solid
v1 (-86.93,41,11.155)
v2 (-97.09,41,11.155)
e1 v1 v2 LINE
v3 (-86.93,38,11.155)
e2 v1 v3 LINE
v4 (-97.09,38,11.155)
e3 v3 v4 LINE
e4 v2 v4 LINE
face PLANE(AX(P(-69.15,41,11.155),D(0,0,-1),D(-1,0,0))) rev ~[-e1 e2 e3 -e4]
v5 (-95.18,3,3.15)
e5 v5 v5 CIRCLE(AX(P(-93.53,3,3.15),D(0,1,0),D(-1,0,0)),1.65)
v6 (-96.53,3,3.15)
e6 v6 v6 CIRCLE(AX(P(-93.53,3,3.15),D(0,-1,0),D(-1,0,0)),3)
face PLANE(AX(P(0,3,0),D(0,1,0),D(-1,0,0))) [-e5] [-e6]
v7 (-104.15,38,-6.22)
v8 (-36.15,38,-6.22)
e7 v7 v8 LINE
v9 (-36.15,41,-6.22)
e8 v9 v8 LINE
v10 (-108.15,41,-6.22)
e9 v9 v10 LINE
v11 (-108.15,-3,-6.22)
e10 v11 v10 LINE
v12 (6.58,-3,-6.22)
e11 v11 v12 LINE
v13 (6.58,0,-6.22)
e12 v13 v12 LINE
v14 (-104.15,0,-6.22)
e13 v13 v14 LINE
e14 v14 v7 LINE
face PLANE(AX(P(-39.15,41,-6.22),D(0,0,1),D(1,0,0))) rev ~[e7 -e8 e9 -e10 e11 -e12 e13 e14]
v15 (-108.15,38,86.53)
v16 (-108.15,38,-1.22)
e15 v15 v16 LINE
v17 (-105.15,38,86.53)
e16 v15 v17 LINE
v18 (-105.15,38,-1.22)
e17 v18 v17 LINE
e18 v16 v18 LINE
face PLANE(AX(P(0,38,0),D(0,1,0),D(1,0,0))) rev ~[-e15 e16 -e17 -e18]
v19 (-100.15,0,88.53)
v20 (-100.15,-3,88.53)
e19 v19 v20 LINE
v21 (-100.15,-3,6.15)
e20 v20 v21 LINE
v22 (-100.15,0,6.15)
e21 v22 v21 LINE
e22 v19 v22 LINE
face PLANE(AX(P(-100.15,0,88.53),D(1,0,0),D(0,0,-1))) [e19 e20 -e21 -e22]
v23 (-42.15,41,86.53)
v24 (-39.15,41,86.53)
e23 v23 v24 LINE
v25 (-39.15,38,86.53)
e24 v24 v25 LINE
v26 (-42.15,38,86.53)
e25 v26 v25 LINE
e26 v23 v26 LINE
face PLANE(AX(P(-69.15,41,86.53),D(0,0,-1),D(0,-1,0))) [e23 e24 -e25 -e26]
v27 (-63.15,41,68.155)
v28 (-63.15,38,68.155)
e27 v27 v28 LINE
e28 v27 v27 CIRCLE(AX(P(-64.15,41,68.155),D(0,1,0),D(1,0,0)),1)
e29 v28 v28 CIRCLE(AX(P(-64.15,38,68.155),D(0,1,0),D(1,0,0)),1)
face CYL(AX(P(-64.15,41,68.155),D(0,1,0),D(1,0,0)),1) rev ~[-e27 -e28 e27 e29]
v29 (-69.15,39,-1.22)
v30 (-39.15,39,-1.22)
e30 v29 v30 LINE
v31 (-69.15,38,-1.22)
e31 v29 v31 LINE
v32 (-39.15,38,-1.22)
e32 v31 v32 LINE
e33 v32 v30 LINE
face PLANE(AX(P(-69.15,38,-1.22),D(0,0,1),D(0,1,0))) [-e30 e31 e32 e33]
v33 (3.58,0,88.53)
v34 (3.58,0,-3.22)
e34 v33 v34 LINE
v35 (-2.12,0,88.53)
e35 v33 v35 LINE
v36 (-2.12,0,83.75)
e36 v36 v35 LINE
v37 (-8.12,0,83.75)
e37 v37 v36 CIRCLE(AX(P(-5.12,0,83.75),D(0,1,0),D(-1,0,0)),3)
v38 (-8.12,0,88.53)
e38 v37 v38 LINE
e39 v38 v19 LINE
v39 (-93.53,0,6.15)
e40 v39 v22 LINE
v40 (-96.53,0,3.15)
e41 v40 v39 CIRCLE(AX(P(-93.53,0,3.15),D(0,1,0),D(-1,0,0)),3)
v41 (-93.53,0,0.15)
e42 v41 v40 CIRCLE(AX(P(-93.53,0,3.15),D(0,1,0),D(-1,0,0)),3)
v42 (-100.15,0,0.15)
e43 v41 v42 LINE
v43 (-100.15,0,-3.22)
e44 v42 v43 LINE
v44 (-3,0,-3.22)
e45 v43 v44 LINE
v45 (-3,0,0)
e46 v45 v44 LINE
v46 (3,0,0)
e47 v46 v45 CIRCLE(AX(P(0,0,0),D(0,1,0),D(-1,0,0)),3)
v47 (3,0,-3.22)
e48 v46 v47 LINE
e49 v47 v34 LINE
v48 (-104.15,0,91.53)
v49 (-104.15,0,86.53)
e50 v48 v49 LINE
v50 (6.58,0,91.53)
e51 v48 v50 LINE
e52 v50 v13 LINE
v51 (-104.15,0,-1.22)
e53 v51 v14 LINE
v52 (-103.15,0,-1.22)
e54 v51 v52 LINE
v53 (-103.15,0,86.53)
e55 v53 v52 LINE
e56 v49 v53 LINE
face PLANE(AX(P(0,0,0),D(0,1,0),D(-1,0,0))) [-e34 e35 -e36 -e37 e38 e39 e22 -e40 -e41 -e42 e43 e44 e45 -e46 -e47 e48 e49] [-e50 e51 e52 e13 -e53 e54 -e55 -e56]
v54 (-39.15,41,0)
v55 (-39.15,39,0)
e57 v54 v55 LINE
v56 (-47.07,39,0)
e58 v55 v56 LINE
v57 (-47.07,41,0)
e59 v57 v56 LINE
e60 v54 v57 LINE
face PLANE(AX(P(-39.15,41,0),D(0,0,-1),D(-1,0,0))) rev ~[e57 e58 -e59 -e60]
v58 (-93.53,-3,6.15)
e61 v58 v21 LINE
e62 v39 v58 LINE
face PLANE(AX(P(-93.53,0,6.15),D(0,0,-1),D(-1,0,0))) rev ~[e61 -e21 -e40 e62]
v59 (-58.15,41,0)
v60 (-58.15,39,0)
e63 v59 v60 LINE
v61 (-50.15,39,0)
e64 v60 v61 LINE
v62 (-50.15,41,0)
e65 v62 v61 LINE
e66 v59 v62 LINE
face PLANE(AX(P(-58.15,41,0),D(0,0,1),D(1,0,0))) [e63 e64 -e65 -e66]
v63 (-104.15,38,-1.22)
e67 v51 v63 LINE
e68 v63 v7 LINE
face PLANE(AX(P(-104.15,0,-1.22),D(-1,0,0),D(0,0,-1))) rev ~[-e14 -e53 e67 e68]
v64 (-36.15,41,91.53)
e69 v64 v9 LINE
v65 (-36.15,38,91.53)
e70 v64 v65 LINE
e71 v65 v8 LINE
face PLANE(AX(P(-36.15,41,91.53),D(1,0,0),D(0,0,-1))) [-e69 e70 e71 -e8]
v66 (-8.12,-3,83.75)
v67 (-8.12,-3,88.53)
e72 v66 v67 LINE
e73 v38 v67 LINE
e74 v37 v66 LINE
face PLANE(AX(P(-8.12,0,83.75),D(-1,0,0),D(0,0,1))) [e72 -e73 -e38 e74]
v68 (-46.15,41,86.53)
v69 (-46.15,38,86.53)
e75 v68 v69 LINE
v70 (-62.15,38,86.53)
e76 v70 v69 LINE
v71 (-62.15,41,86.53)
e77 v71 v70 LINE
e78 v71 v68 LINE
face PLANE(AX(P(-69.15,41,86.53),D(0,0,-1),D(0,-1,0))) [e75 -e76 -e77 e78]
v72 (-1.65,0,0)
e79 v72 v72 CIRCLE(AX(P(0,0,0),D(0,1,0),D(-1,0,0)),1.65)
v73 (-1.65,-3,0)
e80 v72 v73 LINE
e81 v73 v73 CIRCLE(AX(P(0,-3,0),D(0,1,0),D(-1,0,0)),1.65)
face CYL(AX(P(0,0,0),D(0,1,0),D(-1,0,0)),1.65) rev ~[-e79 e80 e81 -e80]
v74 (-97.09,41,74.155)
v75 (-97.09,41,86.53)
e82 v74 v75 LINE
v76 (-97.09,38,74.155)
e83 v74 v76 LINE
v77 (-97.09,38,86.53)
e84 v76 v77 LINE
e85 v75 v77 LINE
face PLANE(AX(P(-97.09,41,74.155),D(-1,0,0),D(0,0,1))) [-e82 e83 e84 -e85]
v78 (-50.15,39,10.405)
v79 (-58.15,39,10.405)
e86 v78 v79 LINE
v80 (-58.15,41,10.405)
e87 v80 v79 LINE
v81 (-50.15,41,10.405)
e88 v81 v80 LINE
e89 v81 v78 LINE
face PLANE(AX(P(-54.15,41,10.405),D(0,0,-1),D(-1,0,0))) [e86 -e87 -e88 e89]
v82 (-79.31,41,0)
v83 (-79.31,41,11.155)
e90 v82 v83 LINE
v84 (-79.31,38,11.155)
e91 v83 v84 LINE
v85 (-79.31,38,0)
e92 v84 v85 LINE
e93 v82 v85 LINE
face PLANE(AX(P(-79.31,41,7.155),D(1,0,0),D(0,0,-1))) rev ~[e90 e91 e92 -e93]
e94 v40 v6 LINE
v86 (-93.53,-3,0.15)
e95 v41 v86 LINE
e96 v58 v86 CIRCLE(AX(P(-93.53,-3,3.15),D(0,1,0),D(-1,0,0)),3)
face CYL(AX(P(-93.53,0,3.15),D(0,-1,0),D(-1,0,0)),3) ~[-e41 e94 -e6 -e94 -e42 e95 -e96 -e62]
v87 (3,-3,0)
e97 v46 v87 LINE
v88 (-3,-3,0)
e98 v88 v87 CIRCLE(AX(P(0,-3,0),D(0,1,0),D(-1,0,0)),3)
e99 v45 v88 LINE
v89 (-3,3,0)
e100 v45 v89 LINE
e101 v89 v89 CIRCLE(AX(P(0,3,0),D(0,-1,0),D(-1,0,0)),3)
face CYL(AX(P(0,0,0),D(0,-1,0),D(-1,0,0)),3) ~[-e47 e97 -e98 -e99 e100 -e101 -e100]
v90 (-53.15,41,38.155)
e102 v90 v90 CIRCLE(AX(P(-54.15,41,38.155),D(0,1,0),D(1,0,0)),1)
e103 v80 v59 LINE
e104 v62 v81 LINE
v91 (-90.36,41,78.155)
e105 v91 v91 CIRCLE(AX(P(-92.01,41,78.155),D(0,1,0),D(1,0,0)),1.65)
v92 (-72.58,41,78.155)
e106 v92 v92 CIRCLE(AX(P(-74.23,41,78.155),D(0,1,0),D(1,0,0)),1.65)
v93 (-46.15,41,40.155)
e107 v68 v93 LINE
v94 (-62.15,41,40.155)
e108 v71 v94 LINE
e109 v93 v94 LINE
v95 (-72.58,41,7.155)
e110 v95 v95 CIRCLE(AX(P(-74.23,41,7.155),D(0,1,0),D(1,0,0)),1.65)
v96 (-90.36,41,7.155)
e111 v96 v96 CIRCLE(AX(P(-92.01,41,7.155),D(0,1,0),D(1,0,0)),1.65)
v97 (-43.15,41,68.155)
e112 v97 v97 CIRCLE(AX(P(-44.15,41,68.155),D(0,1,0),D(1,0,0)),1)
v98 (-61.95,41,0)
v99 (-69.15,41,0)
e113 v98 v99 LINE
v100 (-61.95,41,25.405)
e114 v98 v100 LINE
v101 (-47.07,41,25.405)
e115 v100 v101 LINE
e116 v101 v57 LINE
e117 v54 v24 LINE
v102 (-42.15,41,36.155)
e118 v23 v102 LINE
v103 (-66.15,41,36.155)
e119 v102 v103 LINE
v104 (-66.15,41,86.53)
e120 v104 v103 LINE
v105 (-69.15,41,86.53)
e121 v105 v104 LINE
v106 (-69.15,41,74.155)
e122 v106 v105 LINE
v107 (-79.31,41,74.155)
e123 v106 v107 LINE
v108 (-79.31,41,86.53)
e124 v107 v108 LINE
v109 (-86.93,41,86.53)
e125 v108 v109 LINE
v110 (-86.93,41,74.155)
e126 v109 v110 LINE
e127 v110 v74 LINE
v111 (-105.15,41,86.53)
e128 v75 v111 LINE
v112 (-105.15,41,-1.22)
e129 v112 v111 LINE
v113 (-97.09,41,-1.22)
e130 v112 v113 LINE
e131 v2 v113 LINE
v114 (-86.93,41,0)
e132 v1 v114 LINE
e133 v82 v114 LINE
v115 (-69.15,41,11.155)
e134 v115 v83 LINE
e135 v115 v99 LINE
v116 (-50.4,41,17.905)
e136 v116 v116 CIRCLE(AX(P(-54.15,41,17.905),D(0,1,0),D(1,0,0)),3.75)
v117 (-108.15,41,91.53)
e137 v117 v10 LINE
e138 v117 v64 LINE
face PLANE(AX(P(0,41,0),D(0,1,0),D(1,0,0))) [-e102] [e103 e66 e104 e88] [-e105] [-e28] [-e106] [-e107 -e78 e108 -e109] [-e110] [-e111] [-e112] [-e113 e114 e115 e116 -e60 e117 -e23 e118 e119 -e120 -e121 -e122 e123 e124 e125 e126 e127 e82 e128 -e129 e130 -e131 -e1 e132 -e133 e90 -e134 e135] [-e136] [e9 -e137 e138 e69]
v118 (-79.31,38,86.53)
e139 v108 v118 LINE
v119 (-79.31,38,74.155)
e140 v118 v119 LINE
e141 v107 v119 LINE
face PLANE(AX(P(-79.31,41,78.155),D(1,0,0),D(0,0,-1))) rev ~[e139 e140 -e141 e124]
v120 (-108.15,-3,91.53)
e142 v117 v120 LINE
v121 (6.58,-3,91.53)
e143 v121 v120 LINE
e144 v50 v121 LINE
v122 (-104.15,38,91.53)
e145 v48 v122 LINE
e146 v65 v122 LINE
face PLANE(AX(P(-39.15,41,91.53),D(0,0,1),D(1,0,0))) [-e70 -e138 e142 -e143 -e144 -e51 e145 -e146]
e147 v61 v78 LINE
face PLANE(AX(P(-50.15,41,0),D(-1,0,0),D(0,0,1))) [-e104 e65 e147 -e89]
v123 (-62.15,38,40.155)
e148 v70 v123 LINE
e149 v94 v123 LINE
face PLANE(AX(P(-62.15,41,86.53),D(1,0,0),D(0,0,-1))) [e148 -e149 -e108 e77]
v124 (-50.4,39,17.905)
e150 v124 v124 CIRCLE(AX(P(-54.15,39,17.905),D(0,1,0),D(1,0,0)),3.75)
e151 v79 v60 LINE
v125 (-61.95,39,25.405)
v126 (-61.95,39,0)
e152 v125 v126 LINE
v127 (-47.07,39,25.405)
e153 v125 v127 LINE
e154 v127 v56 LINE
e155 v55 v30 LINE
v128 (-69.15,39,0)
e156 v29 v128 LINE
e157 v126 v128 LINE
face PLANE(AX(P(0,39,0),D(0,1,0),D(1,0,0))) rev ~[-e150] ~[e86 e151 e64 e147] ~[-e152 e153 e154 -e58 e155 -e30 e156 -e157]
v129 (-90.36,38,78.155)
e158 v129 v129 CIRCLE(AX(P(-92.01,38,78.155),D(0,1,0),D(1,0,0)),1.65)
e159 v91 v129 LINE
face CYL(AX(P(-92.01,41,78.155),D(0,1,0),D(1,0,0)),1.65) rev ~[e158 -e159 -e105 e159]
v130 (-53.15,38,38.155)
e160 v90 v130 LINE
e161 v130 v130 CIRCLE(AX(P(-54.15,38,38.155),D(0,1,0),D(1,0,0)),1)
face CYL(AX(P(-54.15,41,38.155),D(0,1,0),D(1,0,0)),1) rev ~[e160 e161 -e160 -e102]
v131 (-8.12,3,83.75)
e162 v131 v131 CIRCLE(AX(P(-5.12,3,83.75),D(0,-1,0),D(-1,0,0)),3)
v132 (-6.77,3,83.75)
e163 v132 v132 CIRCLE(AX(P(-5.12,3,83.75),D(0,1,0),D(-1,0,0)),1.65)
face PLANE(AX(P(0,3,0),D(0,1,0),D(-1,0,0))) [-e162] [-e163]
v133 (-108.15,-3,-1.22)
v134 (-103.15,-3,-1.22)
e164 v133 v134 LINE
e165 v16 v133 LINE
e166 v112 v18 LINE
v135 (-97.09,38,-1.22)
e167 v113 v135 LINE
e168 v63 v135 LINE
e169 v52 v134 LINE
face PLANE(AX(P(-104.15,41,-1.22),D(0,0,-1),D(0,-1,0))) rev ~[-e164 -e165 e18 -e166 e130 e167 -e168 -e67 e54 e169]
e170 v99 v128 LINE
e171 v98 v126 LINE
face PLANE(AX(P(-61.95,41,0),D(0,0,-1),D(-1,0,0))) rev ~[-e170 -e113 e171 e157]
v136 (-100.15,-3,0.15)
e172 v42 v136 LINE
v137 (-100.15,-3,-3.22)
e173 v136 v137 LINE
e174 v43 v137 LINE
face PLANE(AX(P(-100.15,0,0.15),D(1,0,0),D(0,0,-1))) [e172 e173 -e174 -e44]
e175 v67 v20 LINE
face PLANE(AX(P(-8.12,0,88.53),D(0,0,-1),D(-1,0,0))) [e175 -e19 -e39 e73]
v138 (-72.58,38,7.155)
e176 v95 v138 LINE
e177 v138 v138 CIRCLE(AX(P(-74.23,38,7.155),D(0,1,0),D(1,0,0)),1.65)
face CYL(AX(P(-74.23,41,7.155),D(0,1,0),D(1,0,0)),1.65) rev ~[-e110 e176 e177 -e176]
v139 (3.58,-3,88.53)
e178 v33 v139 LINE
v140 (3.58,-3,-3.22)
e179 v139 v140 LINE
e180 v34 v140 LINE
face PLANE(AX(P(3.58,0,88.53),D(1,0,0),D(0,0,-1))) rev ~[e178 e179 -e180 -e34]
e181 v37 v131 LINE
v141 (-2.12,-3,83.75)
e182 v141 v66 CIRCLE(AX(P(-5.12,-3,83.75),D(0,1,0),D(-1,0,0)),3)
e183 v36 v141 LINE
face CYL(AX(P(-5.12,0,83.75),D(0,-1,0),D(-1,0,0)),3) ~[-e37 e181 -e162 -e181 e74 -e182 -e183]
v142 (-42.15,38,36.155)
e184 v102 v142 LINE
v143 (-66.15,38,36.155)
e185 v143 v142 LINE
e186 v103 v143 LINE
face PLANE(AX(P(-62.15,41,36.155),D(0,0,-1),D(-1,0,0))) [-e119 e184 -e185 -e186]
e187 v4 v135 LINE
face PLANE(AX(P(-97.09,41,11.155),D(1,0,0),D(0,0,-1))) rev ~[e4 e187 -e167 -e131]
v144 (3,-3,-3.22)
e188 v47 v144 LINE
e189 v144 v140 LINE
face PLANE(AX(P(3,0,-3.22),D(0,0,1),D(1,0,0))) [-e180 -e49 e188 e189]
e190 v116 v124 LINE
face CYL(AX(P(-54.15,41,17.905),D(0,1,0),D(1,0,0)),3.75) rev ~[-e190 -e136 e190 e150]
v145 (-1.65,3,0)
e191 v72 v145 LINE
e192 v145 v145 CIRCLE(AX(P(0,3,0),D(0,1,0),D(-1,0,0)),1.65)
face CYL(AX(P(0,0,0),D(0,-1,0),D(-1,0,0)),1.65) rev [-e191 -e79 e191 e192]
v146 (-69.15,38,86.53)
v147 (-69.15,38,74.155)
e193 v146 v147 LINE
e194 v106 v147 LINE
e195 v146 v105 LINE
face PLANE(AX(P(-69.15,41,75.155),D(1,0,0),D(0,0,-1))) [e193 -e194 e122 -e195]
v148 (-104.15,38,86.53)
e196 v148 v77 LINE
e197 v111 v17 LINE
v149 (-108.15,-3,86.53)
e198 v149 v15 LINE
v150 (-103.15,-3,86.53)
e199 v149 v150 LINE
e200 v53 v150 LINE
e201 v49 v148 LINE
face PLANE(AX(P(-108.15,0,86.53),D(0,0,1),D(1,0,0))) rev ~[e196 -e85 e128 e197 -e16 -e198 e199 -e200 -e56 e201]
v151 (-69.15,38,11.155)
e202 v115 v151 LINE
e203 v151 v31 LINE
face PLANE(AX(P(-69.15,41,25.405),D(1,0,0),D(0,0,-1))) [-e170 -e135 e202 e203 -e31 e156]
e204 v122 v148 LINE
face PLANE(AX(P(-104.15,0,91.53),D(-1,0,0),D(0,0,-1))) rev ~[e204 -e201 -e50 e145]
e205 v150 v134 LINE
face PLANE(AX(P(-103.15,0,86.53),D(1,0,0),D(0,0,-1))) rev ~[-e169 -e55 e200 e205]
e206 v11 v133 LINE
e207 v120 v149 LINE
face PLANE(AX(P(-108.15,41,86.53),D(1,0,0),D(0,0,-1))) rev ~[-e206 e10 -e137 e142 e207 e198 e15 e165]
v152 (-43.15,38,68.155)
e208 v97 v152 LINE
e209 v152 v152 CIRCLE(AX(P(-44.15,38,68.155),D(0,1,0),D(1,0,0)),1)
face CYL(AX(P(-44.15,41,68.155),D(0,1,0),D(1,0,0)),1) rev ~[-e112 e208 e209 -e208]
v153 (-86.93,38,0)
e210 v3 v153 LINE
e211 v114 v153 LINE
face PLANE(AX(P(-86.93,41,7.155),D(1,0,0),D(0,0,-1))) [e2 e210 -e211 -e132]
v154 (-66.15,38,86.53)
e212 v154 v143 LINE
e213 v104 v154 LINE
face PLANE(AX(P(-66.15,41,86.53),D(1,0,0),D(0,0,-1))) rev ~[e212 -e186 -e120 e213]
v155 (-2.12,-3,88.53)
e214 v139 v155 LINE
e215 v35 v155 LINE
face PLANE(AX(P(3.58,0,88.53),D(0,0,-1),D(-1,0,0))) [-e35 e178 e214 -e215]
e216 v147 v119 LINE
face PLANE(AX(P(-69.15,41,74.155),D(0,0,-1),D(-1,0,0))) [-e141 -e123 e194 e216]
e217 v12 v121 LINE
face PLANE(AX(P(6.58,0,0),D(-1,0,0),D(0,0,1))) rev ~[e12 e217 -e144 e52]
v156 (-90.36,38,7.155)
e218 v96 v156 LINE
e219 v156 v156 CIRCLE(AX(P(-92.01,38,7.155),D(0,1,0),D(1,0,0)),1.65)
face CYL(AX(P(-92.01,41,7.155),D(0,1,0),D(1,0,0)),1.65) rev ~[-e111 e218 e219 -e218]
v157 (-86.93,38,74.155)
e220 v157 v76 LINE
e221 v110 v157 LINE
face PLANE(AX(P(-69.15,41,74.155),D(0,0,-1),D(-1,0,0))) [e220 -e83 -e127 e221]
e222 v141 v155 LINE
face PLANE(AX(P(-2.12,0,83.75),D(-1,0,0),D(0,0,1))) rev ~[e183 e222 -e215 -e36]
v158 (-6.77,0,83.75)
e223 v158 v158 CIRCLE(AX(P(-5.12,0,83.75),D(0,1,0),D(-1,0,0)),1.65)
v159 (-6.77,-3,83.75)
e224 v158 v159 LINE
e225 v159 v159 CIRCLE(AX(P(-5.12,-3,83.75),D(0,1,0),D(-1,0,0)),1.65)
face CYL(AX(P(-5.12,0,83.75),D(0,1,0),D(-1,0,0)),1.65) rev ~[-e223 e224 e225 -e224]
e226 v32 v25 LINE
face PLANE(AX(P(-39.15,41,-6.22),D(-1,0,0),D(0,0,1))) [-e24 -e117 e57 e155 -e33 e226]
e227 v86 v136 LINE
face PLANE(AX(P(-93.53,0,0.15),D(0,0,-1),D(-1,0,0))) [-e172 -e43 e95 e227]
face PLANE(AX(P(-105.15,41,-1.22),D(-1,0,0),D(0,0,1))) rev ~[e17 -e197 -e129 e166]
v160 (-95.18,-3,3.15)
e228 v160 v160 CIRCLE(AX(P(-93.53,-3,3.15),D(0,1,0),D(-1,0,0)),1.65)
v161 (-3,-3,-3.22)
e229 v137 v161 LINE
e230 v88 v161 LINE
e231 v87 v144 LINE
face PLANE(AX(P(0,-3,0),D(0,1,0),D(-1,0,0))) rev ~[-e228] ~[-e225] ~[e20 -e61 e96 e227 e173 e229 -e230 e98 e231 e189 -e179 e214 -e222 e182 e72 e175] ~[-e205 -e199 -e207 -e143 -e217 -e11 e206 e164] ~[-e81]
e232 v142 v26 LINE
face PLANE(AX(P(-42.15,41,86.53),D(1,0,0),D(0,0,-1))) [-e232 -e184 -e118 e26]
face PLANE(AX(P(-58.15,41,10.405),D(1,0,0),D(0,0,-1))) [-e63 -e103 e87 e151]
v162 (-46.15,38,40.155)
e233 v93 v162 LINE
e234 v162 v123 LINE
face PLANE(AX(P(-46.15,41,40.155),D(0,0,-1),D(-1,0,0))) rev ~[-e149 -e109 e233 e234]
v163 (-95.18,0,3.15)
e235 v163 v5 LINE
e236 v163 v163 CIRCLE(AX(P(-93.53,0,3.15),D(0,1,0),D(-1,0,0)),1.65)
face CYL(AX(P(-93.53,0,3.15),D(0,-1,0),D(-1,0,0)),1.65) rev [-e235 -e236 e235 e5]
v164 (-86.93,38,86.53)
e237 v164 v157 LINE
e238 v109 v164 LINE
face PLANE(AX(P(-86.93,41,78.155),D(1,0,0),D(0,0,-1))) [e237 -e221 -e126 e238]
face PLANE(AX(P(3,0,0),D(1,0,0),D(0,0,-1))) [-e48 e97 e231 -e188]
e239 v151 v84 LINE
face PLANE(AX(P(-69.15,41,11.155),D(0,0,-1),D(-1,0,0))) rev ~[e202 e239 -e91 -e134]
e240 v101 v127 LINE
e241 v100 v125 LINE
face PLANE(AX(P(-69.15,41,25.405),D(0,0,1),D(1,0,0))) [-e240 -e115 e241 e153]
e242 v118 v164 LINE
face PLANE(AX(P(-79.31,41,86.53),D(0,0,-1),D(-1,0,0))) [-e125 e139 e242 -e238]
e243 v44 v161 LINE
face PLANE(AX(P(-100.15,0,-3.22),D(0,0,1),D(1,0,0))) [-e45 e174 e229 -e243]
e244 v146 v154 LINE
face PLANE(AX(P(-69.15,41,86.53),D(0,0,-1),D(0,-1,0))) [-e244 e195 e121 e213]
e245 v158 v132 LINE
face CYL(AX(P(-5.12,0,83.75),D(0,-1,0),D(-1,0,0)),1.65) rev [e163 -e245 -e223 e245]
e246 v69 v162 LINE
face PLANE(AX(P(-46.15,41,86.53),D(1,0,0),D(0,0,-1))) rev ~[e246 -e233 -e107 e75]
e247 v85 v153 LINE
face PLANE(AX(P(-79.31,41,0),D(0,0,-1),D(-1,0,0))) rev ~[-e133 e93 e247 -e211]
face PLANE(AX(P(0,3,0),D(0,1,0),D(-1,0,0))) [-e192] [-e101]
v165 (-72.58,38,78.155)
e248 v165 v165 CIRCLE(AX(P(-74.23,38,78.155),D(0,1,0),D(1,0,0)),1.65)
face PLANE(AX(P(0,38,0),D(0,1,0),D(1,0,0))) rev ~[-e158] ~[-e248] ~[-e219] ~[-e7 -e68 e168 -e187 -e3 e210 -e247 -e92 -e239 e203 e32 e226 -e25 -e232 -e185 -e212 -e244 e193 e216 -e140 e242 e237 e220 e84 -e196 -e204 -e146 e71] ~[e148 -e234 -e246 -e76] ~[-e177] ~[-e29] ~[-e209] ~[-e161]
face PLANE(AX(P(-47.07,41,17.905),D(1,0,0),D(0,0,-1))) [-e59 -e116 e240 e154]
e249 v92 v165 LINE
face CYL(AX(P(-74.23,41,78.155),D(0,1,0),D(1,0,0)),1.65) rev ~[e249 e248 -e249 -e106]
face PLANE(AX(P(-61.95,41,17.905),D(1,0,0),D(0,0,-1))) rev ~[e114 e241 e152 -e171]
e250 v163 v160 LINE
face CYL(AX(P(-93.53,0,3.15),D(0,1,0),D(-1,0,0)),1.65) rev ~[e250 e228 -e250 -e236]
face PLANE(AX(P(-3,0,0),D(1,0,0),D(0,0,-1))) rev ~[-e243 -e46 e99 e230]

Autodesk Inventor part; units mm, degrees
ref_plane "YZ Plane" through (0, 0, 0) normal (1, 0, 0) x (0, 1, 0)
ref_plane "XZ Plane" through (0, 0, 0) normal (0, 1, 0) x (-1, 0, 0)
ref_plane "XY Plane" through (0, 0, 0) normal (0, 0, 1) x (1, 0, 0)
sketch "Sketch1" plane through (0, 0, 0) normal (0, 1, 0) x (-1, 0, 0)
  circle A0 centre (0, 0) radius 1.65
  circle A1 centre (0, 0) radius 3
  circle A2 centre (5.12, 83.75) radius 1.65
  circle A3 centre (5.12, 83.75) radius 3
  circle A4 centre (93.53, 3.15) radius 1.65
  circle A5 centre (93.53, 3.15) radius 3
  line L0 (-6.58, 0) -> (-6.58, -6.22)
  line L1 (-6.58, -6.22) -> (-6.58, 91.53)
  line L2 (-6.58, 91.53) -> (103.15, 91.53)
  line L3 (103.15, 86.53) -> (103.15, -1.22)
  line L4 (103.15, -6.22) -> (-6.58, -6.22)
  line L5 (-6.58, 91.53) -> (-6.58, 88.53)
  line L6 (103.15, 91.53) -> (100.15, 91.53)
  line L7 (3, 0) -> (3, -3.22)
  line L8 (-3, 0) -> (-3, -3.22)
  line L9 (2.12, 83.75) -> (2.12, 88.53)
  line L10 (8.12, 83.75) -> (8.12, 88.53)
  line L11 (93.53, 6.15) -> (100.15, 6.15)
  line L12 (93.53, 0.15) -> (100.15, 0.15)
  line L13 (-3.58, 88.53) -> (-3.58, -3.22)
  line L14 (103.15, 91.53) -> (108.15, 91.53)
  line L15 (108.15, 91.53) -> (108.15, 86.53)
  line L16 (108.15, 86.53) -> (103.15, 86.53)
  line L17 (103.15, -6.22) -> (108.15, -6.22)
  line L18 (108.15, -6.22) -> (108.15, -1.22)
  line L19 (108.15, -1.22) -> (103.15, -1.22)
  line L20 (100.15, 88.53) -> (100.15, 6.15)
  line L21 (100.15, 0.15) -> (100.15, -3.22)
  line L22 (100.15, -3.22) -> (3, -3.22)
  line L23 (-3, -3.22) -> (-3.58, -3.22)
  line L24 (-3.58, 88.53) -> (2.12, 88.53)
  line L25 (8.12, 88.53) -> (100.15, 88.53)
  dimension "d0" = 3.3
  dimension "d1" = 6
  dimension "d4" = 3.3
  dimension "d5" = 6
  dimension "d8" = 3.3
  dimension "d9" = 6
extrude "Extrusion1" add sketch "Sketch1" against normal blind 3 contours A1 | A5 | A3 | L1 L2 L14 L15 L16 L3 L19 L18 L17 L4 L0
extrude "Extrusion2" add sketch "Sketch1" along normal blind 3 contours A1 | A5 | A3
sketch "Sketch2" plane through (0, 0, 0) normal (0, 1, 0) x (1, 0, 0)
  line L0 (-103.15, 1.22) -> (-108.15, 1.22) projected
  line L1 (-103.15, 1.22) -> (-103.15, 6.22)
  line L2 (-108.15, 6.22) -> (6.58, 6.22) projected
  line L3 (-103.15, 6.22) -> (-108.15, 6.22)
  line L4 (-108.15, 6.22) -> (-108.15, 1.22)
  line L5 (-103.15, 1.22) -> (-103.15, -86.53) projected
  line L6 (-108.15, 1.22) -> (-103.15, 1.22)
  line L7 (-108.15, -91.53) -> (-108.15, -86.53) projected
  line L8 (-108.15, -91.53) -> (-103.15, -91.53)
  line L9 (6.58, -91.53) -> (-108.15, -91.53) projected
  line L10 (-103.15, -86.53) -> (-103.15, -91.53)
  line L11 (-108.15, -86.53) -> (-103.15, -86.53) projected
  line L12 (-103.15, -86.53) -> (-108.15, -86.53)
  line L13 (-108.15, -86.53) -> (-108.15, -91.53)
  line L14 (-103.15, -91.53) -> (-104.15, -91.53)
  line L15 (-104.15, -91.53) -> (-104.15, -86.53)
  line L16 (-103.15, 1.22) -> (-104.15, 1.22)
  line L17 (-104.15, 1.22) -> (-104.15, 6.22)
  point P0 (0, 0)
  dimension "d26" = 1
  dimension "d27" = 1
extrude "Extrusion3" add sketch "Sketch2" along normal blind 41 contours L0 L4 L2 L17 | L15 L8 L7 L11
sketch "Sketch3" plane through (-104.15, 0, 91.53) normal (1, 0, 0) x (0, 0, -1)
  line L0 (0, 41) -> (5, 41) projected
  line L1 (0, 41) -> (0, 38)
  line L2 (0, -3) -> (0, 41) projected
  line L3 (0, 38) -> (5, 38)
  line L4 (5, -3) -> (5, 41) projected
  line L5 (5, 38) -> (5, 41)
  line L6 (5, 41) -> (0, 41)
  line L7 (92.75, 41) -> (97.75, 41) projected
  line L8 (92.75, 41) -> (92.75, 38)
  line L9 (92.75, -3) -> (92.75, 41) projected
  line L10 (92.75, 38) -> (97.75, 38)
  line L11 (97.75, -3) -> (97.75, 41) projected
  line L12 (97.75, 41) -> (92.75, 41)
  line L13 (97.75, 41) -> (97.75, 38)
  point P0 (91.53, 0)
  dimension "d30" = 3
  dimension "d31" = 3
extrude "Extrusion4" add sketch "Sketch3" along normal blind 35
sketch "Sketch4" plane through (0, 41, 0) normal (0, 1, 0) x (1, 0, 0)
  line L0 (-69.15, -91.53) -> (-69.15, -86.53) projected
  line L1 (-108.15, 1.22) -> (-69.15, 1.22) projected
  line L2 (-69.15, -86.53) -> (-69.15, -78.155)
  line L3 (-69.15, 1.22) -> (-69.15, -7.155)
  circle A0 centre (-74.23, -78.155) radius 1.65
  circle A1 centre (-74.23, -7.155) radius 1.65
  circle A2 centre (-92.01, -78.155) radius 1.65
  circle A3 centre (-92.01, -7.155) radius 1.65
  line L4 (-69.15, -78.155) -> (-69.15, -75.155)
  line L5 (-69.15, -75.155) -> (-69.15, -74.155)
  line L6 (-69.15, -74.155) -> (-97.09, -74.155)
  line L7 (-100.15, -88.53) -> (-100.15, -6.15) projected
  line L8 (-97.09, -74.155) -> (-97.09, -86.53)
  line L9 (-97.09, -86.53) -> (-69.15, -86.53)
  line L10 (-69.15, -7.155) -> (-69.15, -11.155)
  line L11 (-69.15, -11.155) -> (-97.09, -11.155)
  line L12 (-97.09, -11.155) -> (-97.09, 1.22)
  line L13 (-97.09, 1.22) -> (-69.15, 1.22)
  point P0 (0, 0)
  dimension "d46" = 3.3
  dimension "d47" = 3.3
  dimension "d50" = 3.3
  dimension "d51" = 3.3
  dimension "d53" = 1
extrude "Extrusion5" add sketch "Sketch4" against normal blind 3
sketch "Sketch5" plane through (-69.15, 0, 91.53) normal (1, 0, 0) x (0, 0, -1)
  line L0 (0, 41) -> (0, 38) projected
  line L1 (0, 41) -> (0, 38)
  line L2 (0, 41) -> (17.375, 41) projected
  line L3 (0, 41) -> (5, 41)
  line L4 (5, 41) -> (5, 38)
  line L5 (5, -3) -> (5, 41) projected
  line L6 (5, 38) -> (0, 38) projected
  line L7 (0, 38) -> (5, 38)
  line L8 (97.75, 38) -> (97.75, 41) projected
  line L9 (97.75, 41) -> (92.75, 41)
  line L10 (97.75, 41) -> (80.375, 41) projected
  line L11 (92.75, 38) -> (92.75, 41) projected
  line L12 (92.75, 41) -> (92.75, 38)
  line L13 (97.75, 38) -> (80.375, 38) projected
  line L14 (92.75, 38) -> (97.75, 38)
  line L15 (97.75, 38) -> (97.75, 41)
  point P0 (91.53, 0)
  dimension "d59" = 5
  dimension "d60" = 5
extrude "Extrusion6" add sketch "Sketch5" along normal blind 30
sketch "Sketch7" plane through (0, 41, 0) normal (0, 1, 0) x (1, 0, 0)
  line L0 (-69.15, 1.22) -> (-69.15, -11.155) projected
  line L1 (-69.15, 1.22) -> (-46.15, 1.22)
  line L2 (-3, 3.22) -> (-100.15, 3.22) projected
  line L3 (-69.15, 1.22) -> (-69.15, -11.155) projected
  line L4 (-69.15, -11.155) -> (-69.15, -25.405)
  line L5 (-69.15, -25.405) -> (-39.15, -25.405)
  line L6 (-39.15, 1.22) -> (-39.15, 6.22) projected
  line L7 (-39.15, -25.405) -> (-39.15, 1.22)
  line L8 (-39.15, 1.22) -> (-46.15, 1.22)
  circle A0 centre (-54.15, -17.905) radius 3.75
  point P0 (0, 0)
  dimension "d117" = 7.5
extrude "Extrusion8" add sketch "Sketch7" against normal blind 2
sketch "Sketch8" plane through (0, 41, 0) normal (0, 1, 0) x (1, 0, 0)
  circle A0 centre (-74.23, -78.155) radius 1.65 projected
  circle A1 centre (-64.15, -68.155) radius 1
  circle A2 centre (-44.15, -68.155) radius 1
  circle A3 centre (-54.15, -38.155) radius 1
  line L0 (-39.15, -91.53) -> (-39.15, -86.53) projected
  line L1 (-39.15, -86.53) -> (-42.15, -86.53)
  line L2 (-42.15, -86.53) -> (-42.15, -39.155)
  line L3 (-42.15, -39.155) -> (-42.15, -36.155)
  line L4 (-66.15, -86.53) -> (-66.15, -36.155)
  line L5 (-66.15, -86.53) -> (-42.15, -86.53)
  line L6 (-66.15, -86.53) -> (-62.15, -86.53)
  line L7 (-69.15, -86.53) -> (-39.15, -86.53) projected
  line L8 (-42.15, -86.53) -> (-46.15, -86.53)
  line L9 (-62.15, -36.155) -> (-42.15, -36.155)
  line L10 (-62.15, -36.155) -> (-66.15, -36.155)
  line L11 (-46.15, -40.155) -> (-62.15, -40.155)
  line L12 (-62.15, -86.53) -> (-62.15, -40.155)
  line L13 (-46.15, -86.53) -> (-46.15, -40.155)
  point P0 (0, 0)
  dimension "d81" = 2
  dimension "d85" = 3
  dimension "d86" = 3
  dimension "d88" = 4
  dimension "d89" = 4
extrude "Extrusion9" add sketch "Sketch8" against normal blind 3 contours L5 L13 L11 L12 L4 L10 L9 L3 L2
sketch "Sketch9" plane through (0, 41, 0) normal (0, 1, 0) x (1, 0, 0)
  line L0 (-39.15, -91.53) -> (-36.15, -91.53)
  line L1 (-104.15, -91.53) -> (6.58, -91.53) projected
  line L2 (-36.15, -91.53) -> (-36.15, 6.22)
  line L3 (-108.15, 6.22) -> (6.58, 6.22) projected
  line L4 (-36.15, 6.22) -> (-39.15, 6.22)
  line L5 (-104.15, -91.53) -> (-39.15, -91.53) projected
  line L6 (-39.15, 6.22) -> (-39.15, -91.53)
  point P0 (0, 0)
  dimension "d94" = 3
extrude "Extrusion10" add sketch "Sketch9" against normal blind 3
sketch "Sketch10" plane through (0, 41, 0) normal (0, 1, 0) x (1, 0, 0)
  line L0 (-108.15, -86.53) -> (-103.15, -86.53) projected
  line L1 (-108.15, 6.22) -> (-108.15, 1.22) projected
  line L2 (-108.15, -86.53) -> (-108.15, 1.22)
  line L3 (-108.15, 1.22) -> (-105.15, 1.22)
  line L4 (-108.15, 1.22) -> (-97.09, 1.22) projected
  line L5 (-105.15, 1.22) -> (-105.15, -86.53)
  line L6 (-103.15, 1.22) -> (-103.15, -86.53) projected
  line L7 (-105.15, -86.53) -> (-108.15, -86.53)
  point P0 (0, 0)
  dimension "d97" = 3
extrude "Extrusion11" add sketch "Sketch10" against normal blind 3 contours L2 L3 L5 L0
sketch "Sketch11" plane through (0, 41, 0) normal (0, 1, 0) x (1, 0, 0)
  line L0 (-86.93, -78.155) -> (-86.93, -86.53)
  line L1 (-79.31, -78.155) -> (-79.31, -86.53)
  line L2 (-79.31, -86.53) -> (-86.93, -86.53)
  line L3 (-79.31, -78.155) -> (-79.31, -74.155)
  line L4 (-79.31, -74.155) -> (-86.93, -74.155)
  line L5 (-86.93, -78.155) -> (-86.93, -74.155)
  line L6 (-86.93, -7.155) -> (-86.93, 0)
  line L7 (-79.31, -7.155) -> (-79.31, 0)
  line L8 (-79.31, 0) -> (-86.93, 0)
  line L9 (-79.31, -7.155) -> (-79.31, -11.155)
  line L10 (-86.93, -7.155) -> (-86.93, -11.155)
  line L11 (-86.93, -11.155) -> (-79.31, -11.155)
  line L12 (-47.07, -17.905) -> (-47.07, 0)
  line L13 (-61.95, -17.905) -> (-61.95, 0)
  line L14 (-61.95, -17.905) -> (-61.95, -25.405)
  line L15 (-69.15, -25.405) -> (-39.15, -25.405) projected
  line L16 (-61.95, -25.405) -> (-47.07, -25.405)
  line L17 (-47.07, -25.405) -> (-47.07, -17.905)
  line L18 (-61.95, -25.405) -> (-69.15, -25.405)
  line L19 (-69.15, -25.405) -> (-69.15, 0)
  line L20 (-69.15, 1.22) -> (-69.15, -11.155) projected
  line L21 (-61.95, 0) -> (-69.15, 0)
  line L22 (-47.07, -25.405) -> (-39.15, -25.405)
  line L23 (-39.15, -25.405) -> (-39.15, 0)
  line L24 (-39.15, 0) -> (-47.07, 0)
  line L25 (-54.15, -17.905) -> (-54.15, -25.405)
  line L26 (-39.15, -25.405) -> (-69.15, -25.405) projected
  line L27 (-54.15, -25.405) -> (-54.15, -17.905)
  line L28 (-54.15, -17.905) -> (-54.15, -10.405)
  line L29 (-54.15, -10.405) -> (-58.15, -10.405)
  line L30 (-58.15, -10.405) -> (-58.15, 0)
  line L31 (-58.15, 0) -> (-50.15, 0)
  line L32 (-50.15, 0) -> (-50.15, -10.405)
  line L33 (-50.15, -10.405) -> (-54.15, -10.405)
  point P0 (0, 0)
  point P1 (-92.01, -78.155)
  point P2 (-74.23, -78.155)
  point P3 (-92.01, -7.155)
  dimension "d111" = 7.5
  dimension "d112" = 7.5
  dimension "d113" = 4
  dimension "d114" = 8
extrude "Extrusion12" cut sketch "Sketch11" against normal blind 10
properties part number "electronic_holder"
